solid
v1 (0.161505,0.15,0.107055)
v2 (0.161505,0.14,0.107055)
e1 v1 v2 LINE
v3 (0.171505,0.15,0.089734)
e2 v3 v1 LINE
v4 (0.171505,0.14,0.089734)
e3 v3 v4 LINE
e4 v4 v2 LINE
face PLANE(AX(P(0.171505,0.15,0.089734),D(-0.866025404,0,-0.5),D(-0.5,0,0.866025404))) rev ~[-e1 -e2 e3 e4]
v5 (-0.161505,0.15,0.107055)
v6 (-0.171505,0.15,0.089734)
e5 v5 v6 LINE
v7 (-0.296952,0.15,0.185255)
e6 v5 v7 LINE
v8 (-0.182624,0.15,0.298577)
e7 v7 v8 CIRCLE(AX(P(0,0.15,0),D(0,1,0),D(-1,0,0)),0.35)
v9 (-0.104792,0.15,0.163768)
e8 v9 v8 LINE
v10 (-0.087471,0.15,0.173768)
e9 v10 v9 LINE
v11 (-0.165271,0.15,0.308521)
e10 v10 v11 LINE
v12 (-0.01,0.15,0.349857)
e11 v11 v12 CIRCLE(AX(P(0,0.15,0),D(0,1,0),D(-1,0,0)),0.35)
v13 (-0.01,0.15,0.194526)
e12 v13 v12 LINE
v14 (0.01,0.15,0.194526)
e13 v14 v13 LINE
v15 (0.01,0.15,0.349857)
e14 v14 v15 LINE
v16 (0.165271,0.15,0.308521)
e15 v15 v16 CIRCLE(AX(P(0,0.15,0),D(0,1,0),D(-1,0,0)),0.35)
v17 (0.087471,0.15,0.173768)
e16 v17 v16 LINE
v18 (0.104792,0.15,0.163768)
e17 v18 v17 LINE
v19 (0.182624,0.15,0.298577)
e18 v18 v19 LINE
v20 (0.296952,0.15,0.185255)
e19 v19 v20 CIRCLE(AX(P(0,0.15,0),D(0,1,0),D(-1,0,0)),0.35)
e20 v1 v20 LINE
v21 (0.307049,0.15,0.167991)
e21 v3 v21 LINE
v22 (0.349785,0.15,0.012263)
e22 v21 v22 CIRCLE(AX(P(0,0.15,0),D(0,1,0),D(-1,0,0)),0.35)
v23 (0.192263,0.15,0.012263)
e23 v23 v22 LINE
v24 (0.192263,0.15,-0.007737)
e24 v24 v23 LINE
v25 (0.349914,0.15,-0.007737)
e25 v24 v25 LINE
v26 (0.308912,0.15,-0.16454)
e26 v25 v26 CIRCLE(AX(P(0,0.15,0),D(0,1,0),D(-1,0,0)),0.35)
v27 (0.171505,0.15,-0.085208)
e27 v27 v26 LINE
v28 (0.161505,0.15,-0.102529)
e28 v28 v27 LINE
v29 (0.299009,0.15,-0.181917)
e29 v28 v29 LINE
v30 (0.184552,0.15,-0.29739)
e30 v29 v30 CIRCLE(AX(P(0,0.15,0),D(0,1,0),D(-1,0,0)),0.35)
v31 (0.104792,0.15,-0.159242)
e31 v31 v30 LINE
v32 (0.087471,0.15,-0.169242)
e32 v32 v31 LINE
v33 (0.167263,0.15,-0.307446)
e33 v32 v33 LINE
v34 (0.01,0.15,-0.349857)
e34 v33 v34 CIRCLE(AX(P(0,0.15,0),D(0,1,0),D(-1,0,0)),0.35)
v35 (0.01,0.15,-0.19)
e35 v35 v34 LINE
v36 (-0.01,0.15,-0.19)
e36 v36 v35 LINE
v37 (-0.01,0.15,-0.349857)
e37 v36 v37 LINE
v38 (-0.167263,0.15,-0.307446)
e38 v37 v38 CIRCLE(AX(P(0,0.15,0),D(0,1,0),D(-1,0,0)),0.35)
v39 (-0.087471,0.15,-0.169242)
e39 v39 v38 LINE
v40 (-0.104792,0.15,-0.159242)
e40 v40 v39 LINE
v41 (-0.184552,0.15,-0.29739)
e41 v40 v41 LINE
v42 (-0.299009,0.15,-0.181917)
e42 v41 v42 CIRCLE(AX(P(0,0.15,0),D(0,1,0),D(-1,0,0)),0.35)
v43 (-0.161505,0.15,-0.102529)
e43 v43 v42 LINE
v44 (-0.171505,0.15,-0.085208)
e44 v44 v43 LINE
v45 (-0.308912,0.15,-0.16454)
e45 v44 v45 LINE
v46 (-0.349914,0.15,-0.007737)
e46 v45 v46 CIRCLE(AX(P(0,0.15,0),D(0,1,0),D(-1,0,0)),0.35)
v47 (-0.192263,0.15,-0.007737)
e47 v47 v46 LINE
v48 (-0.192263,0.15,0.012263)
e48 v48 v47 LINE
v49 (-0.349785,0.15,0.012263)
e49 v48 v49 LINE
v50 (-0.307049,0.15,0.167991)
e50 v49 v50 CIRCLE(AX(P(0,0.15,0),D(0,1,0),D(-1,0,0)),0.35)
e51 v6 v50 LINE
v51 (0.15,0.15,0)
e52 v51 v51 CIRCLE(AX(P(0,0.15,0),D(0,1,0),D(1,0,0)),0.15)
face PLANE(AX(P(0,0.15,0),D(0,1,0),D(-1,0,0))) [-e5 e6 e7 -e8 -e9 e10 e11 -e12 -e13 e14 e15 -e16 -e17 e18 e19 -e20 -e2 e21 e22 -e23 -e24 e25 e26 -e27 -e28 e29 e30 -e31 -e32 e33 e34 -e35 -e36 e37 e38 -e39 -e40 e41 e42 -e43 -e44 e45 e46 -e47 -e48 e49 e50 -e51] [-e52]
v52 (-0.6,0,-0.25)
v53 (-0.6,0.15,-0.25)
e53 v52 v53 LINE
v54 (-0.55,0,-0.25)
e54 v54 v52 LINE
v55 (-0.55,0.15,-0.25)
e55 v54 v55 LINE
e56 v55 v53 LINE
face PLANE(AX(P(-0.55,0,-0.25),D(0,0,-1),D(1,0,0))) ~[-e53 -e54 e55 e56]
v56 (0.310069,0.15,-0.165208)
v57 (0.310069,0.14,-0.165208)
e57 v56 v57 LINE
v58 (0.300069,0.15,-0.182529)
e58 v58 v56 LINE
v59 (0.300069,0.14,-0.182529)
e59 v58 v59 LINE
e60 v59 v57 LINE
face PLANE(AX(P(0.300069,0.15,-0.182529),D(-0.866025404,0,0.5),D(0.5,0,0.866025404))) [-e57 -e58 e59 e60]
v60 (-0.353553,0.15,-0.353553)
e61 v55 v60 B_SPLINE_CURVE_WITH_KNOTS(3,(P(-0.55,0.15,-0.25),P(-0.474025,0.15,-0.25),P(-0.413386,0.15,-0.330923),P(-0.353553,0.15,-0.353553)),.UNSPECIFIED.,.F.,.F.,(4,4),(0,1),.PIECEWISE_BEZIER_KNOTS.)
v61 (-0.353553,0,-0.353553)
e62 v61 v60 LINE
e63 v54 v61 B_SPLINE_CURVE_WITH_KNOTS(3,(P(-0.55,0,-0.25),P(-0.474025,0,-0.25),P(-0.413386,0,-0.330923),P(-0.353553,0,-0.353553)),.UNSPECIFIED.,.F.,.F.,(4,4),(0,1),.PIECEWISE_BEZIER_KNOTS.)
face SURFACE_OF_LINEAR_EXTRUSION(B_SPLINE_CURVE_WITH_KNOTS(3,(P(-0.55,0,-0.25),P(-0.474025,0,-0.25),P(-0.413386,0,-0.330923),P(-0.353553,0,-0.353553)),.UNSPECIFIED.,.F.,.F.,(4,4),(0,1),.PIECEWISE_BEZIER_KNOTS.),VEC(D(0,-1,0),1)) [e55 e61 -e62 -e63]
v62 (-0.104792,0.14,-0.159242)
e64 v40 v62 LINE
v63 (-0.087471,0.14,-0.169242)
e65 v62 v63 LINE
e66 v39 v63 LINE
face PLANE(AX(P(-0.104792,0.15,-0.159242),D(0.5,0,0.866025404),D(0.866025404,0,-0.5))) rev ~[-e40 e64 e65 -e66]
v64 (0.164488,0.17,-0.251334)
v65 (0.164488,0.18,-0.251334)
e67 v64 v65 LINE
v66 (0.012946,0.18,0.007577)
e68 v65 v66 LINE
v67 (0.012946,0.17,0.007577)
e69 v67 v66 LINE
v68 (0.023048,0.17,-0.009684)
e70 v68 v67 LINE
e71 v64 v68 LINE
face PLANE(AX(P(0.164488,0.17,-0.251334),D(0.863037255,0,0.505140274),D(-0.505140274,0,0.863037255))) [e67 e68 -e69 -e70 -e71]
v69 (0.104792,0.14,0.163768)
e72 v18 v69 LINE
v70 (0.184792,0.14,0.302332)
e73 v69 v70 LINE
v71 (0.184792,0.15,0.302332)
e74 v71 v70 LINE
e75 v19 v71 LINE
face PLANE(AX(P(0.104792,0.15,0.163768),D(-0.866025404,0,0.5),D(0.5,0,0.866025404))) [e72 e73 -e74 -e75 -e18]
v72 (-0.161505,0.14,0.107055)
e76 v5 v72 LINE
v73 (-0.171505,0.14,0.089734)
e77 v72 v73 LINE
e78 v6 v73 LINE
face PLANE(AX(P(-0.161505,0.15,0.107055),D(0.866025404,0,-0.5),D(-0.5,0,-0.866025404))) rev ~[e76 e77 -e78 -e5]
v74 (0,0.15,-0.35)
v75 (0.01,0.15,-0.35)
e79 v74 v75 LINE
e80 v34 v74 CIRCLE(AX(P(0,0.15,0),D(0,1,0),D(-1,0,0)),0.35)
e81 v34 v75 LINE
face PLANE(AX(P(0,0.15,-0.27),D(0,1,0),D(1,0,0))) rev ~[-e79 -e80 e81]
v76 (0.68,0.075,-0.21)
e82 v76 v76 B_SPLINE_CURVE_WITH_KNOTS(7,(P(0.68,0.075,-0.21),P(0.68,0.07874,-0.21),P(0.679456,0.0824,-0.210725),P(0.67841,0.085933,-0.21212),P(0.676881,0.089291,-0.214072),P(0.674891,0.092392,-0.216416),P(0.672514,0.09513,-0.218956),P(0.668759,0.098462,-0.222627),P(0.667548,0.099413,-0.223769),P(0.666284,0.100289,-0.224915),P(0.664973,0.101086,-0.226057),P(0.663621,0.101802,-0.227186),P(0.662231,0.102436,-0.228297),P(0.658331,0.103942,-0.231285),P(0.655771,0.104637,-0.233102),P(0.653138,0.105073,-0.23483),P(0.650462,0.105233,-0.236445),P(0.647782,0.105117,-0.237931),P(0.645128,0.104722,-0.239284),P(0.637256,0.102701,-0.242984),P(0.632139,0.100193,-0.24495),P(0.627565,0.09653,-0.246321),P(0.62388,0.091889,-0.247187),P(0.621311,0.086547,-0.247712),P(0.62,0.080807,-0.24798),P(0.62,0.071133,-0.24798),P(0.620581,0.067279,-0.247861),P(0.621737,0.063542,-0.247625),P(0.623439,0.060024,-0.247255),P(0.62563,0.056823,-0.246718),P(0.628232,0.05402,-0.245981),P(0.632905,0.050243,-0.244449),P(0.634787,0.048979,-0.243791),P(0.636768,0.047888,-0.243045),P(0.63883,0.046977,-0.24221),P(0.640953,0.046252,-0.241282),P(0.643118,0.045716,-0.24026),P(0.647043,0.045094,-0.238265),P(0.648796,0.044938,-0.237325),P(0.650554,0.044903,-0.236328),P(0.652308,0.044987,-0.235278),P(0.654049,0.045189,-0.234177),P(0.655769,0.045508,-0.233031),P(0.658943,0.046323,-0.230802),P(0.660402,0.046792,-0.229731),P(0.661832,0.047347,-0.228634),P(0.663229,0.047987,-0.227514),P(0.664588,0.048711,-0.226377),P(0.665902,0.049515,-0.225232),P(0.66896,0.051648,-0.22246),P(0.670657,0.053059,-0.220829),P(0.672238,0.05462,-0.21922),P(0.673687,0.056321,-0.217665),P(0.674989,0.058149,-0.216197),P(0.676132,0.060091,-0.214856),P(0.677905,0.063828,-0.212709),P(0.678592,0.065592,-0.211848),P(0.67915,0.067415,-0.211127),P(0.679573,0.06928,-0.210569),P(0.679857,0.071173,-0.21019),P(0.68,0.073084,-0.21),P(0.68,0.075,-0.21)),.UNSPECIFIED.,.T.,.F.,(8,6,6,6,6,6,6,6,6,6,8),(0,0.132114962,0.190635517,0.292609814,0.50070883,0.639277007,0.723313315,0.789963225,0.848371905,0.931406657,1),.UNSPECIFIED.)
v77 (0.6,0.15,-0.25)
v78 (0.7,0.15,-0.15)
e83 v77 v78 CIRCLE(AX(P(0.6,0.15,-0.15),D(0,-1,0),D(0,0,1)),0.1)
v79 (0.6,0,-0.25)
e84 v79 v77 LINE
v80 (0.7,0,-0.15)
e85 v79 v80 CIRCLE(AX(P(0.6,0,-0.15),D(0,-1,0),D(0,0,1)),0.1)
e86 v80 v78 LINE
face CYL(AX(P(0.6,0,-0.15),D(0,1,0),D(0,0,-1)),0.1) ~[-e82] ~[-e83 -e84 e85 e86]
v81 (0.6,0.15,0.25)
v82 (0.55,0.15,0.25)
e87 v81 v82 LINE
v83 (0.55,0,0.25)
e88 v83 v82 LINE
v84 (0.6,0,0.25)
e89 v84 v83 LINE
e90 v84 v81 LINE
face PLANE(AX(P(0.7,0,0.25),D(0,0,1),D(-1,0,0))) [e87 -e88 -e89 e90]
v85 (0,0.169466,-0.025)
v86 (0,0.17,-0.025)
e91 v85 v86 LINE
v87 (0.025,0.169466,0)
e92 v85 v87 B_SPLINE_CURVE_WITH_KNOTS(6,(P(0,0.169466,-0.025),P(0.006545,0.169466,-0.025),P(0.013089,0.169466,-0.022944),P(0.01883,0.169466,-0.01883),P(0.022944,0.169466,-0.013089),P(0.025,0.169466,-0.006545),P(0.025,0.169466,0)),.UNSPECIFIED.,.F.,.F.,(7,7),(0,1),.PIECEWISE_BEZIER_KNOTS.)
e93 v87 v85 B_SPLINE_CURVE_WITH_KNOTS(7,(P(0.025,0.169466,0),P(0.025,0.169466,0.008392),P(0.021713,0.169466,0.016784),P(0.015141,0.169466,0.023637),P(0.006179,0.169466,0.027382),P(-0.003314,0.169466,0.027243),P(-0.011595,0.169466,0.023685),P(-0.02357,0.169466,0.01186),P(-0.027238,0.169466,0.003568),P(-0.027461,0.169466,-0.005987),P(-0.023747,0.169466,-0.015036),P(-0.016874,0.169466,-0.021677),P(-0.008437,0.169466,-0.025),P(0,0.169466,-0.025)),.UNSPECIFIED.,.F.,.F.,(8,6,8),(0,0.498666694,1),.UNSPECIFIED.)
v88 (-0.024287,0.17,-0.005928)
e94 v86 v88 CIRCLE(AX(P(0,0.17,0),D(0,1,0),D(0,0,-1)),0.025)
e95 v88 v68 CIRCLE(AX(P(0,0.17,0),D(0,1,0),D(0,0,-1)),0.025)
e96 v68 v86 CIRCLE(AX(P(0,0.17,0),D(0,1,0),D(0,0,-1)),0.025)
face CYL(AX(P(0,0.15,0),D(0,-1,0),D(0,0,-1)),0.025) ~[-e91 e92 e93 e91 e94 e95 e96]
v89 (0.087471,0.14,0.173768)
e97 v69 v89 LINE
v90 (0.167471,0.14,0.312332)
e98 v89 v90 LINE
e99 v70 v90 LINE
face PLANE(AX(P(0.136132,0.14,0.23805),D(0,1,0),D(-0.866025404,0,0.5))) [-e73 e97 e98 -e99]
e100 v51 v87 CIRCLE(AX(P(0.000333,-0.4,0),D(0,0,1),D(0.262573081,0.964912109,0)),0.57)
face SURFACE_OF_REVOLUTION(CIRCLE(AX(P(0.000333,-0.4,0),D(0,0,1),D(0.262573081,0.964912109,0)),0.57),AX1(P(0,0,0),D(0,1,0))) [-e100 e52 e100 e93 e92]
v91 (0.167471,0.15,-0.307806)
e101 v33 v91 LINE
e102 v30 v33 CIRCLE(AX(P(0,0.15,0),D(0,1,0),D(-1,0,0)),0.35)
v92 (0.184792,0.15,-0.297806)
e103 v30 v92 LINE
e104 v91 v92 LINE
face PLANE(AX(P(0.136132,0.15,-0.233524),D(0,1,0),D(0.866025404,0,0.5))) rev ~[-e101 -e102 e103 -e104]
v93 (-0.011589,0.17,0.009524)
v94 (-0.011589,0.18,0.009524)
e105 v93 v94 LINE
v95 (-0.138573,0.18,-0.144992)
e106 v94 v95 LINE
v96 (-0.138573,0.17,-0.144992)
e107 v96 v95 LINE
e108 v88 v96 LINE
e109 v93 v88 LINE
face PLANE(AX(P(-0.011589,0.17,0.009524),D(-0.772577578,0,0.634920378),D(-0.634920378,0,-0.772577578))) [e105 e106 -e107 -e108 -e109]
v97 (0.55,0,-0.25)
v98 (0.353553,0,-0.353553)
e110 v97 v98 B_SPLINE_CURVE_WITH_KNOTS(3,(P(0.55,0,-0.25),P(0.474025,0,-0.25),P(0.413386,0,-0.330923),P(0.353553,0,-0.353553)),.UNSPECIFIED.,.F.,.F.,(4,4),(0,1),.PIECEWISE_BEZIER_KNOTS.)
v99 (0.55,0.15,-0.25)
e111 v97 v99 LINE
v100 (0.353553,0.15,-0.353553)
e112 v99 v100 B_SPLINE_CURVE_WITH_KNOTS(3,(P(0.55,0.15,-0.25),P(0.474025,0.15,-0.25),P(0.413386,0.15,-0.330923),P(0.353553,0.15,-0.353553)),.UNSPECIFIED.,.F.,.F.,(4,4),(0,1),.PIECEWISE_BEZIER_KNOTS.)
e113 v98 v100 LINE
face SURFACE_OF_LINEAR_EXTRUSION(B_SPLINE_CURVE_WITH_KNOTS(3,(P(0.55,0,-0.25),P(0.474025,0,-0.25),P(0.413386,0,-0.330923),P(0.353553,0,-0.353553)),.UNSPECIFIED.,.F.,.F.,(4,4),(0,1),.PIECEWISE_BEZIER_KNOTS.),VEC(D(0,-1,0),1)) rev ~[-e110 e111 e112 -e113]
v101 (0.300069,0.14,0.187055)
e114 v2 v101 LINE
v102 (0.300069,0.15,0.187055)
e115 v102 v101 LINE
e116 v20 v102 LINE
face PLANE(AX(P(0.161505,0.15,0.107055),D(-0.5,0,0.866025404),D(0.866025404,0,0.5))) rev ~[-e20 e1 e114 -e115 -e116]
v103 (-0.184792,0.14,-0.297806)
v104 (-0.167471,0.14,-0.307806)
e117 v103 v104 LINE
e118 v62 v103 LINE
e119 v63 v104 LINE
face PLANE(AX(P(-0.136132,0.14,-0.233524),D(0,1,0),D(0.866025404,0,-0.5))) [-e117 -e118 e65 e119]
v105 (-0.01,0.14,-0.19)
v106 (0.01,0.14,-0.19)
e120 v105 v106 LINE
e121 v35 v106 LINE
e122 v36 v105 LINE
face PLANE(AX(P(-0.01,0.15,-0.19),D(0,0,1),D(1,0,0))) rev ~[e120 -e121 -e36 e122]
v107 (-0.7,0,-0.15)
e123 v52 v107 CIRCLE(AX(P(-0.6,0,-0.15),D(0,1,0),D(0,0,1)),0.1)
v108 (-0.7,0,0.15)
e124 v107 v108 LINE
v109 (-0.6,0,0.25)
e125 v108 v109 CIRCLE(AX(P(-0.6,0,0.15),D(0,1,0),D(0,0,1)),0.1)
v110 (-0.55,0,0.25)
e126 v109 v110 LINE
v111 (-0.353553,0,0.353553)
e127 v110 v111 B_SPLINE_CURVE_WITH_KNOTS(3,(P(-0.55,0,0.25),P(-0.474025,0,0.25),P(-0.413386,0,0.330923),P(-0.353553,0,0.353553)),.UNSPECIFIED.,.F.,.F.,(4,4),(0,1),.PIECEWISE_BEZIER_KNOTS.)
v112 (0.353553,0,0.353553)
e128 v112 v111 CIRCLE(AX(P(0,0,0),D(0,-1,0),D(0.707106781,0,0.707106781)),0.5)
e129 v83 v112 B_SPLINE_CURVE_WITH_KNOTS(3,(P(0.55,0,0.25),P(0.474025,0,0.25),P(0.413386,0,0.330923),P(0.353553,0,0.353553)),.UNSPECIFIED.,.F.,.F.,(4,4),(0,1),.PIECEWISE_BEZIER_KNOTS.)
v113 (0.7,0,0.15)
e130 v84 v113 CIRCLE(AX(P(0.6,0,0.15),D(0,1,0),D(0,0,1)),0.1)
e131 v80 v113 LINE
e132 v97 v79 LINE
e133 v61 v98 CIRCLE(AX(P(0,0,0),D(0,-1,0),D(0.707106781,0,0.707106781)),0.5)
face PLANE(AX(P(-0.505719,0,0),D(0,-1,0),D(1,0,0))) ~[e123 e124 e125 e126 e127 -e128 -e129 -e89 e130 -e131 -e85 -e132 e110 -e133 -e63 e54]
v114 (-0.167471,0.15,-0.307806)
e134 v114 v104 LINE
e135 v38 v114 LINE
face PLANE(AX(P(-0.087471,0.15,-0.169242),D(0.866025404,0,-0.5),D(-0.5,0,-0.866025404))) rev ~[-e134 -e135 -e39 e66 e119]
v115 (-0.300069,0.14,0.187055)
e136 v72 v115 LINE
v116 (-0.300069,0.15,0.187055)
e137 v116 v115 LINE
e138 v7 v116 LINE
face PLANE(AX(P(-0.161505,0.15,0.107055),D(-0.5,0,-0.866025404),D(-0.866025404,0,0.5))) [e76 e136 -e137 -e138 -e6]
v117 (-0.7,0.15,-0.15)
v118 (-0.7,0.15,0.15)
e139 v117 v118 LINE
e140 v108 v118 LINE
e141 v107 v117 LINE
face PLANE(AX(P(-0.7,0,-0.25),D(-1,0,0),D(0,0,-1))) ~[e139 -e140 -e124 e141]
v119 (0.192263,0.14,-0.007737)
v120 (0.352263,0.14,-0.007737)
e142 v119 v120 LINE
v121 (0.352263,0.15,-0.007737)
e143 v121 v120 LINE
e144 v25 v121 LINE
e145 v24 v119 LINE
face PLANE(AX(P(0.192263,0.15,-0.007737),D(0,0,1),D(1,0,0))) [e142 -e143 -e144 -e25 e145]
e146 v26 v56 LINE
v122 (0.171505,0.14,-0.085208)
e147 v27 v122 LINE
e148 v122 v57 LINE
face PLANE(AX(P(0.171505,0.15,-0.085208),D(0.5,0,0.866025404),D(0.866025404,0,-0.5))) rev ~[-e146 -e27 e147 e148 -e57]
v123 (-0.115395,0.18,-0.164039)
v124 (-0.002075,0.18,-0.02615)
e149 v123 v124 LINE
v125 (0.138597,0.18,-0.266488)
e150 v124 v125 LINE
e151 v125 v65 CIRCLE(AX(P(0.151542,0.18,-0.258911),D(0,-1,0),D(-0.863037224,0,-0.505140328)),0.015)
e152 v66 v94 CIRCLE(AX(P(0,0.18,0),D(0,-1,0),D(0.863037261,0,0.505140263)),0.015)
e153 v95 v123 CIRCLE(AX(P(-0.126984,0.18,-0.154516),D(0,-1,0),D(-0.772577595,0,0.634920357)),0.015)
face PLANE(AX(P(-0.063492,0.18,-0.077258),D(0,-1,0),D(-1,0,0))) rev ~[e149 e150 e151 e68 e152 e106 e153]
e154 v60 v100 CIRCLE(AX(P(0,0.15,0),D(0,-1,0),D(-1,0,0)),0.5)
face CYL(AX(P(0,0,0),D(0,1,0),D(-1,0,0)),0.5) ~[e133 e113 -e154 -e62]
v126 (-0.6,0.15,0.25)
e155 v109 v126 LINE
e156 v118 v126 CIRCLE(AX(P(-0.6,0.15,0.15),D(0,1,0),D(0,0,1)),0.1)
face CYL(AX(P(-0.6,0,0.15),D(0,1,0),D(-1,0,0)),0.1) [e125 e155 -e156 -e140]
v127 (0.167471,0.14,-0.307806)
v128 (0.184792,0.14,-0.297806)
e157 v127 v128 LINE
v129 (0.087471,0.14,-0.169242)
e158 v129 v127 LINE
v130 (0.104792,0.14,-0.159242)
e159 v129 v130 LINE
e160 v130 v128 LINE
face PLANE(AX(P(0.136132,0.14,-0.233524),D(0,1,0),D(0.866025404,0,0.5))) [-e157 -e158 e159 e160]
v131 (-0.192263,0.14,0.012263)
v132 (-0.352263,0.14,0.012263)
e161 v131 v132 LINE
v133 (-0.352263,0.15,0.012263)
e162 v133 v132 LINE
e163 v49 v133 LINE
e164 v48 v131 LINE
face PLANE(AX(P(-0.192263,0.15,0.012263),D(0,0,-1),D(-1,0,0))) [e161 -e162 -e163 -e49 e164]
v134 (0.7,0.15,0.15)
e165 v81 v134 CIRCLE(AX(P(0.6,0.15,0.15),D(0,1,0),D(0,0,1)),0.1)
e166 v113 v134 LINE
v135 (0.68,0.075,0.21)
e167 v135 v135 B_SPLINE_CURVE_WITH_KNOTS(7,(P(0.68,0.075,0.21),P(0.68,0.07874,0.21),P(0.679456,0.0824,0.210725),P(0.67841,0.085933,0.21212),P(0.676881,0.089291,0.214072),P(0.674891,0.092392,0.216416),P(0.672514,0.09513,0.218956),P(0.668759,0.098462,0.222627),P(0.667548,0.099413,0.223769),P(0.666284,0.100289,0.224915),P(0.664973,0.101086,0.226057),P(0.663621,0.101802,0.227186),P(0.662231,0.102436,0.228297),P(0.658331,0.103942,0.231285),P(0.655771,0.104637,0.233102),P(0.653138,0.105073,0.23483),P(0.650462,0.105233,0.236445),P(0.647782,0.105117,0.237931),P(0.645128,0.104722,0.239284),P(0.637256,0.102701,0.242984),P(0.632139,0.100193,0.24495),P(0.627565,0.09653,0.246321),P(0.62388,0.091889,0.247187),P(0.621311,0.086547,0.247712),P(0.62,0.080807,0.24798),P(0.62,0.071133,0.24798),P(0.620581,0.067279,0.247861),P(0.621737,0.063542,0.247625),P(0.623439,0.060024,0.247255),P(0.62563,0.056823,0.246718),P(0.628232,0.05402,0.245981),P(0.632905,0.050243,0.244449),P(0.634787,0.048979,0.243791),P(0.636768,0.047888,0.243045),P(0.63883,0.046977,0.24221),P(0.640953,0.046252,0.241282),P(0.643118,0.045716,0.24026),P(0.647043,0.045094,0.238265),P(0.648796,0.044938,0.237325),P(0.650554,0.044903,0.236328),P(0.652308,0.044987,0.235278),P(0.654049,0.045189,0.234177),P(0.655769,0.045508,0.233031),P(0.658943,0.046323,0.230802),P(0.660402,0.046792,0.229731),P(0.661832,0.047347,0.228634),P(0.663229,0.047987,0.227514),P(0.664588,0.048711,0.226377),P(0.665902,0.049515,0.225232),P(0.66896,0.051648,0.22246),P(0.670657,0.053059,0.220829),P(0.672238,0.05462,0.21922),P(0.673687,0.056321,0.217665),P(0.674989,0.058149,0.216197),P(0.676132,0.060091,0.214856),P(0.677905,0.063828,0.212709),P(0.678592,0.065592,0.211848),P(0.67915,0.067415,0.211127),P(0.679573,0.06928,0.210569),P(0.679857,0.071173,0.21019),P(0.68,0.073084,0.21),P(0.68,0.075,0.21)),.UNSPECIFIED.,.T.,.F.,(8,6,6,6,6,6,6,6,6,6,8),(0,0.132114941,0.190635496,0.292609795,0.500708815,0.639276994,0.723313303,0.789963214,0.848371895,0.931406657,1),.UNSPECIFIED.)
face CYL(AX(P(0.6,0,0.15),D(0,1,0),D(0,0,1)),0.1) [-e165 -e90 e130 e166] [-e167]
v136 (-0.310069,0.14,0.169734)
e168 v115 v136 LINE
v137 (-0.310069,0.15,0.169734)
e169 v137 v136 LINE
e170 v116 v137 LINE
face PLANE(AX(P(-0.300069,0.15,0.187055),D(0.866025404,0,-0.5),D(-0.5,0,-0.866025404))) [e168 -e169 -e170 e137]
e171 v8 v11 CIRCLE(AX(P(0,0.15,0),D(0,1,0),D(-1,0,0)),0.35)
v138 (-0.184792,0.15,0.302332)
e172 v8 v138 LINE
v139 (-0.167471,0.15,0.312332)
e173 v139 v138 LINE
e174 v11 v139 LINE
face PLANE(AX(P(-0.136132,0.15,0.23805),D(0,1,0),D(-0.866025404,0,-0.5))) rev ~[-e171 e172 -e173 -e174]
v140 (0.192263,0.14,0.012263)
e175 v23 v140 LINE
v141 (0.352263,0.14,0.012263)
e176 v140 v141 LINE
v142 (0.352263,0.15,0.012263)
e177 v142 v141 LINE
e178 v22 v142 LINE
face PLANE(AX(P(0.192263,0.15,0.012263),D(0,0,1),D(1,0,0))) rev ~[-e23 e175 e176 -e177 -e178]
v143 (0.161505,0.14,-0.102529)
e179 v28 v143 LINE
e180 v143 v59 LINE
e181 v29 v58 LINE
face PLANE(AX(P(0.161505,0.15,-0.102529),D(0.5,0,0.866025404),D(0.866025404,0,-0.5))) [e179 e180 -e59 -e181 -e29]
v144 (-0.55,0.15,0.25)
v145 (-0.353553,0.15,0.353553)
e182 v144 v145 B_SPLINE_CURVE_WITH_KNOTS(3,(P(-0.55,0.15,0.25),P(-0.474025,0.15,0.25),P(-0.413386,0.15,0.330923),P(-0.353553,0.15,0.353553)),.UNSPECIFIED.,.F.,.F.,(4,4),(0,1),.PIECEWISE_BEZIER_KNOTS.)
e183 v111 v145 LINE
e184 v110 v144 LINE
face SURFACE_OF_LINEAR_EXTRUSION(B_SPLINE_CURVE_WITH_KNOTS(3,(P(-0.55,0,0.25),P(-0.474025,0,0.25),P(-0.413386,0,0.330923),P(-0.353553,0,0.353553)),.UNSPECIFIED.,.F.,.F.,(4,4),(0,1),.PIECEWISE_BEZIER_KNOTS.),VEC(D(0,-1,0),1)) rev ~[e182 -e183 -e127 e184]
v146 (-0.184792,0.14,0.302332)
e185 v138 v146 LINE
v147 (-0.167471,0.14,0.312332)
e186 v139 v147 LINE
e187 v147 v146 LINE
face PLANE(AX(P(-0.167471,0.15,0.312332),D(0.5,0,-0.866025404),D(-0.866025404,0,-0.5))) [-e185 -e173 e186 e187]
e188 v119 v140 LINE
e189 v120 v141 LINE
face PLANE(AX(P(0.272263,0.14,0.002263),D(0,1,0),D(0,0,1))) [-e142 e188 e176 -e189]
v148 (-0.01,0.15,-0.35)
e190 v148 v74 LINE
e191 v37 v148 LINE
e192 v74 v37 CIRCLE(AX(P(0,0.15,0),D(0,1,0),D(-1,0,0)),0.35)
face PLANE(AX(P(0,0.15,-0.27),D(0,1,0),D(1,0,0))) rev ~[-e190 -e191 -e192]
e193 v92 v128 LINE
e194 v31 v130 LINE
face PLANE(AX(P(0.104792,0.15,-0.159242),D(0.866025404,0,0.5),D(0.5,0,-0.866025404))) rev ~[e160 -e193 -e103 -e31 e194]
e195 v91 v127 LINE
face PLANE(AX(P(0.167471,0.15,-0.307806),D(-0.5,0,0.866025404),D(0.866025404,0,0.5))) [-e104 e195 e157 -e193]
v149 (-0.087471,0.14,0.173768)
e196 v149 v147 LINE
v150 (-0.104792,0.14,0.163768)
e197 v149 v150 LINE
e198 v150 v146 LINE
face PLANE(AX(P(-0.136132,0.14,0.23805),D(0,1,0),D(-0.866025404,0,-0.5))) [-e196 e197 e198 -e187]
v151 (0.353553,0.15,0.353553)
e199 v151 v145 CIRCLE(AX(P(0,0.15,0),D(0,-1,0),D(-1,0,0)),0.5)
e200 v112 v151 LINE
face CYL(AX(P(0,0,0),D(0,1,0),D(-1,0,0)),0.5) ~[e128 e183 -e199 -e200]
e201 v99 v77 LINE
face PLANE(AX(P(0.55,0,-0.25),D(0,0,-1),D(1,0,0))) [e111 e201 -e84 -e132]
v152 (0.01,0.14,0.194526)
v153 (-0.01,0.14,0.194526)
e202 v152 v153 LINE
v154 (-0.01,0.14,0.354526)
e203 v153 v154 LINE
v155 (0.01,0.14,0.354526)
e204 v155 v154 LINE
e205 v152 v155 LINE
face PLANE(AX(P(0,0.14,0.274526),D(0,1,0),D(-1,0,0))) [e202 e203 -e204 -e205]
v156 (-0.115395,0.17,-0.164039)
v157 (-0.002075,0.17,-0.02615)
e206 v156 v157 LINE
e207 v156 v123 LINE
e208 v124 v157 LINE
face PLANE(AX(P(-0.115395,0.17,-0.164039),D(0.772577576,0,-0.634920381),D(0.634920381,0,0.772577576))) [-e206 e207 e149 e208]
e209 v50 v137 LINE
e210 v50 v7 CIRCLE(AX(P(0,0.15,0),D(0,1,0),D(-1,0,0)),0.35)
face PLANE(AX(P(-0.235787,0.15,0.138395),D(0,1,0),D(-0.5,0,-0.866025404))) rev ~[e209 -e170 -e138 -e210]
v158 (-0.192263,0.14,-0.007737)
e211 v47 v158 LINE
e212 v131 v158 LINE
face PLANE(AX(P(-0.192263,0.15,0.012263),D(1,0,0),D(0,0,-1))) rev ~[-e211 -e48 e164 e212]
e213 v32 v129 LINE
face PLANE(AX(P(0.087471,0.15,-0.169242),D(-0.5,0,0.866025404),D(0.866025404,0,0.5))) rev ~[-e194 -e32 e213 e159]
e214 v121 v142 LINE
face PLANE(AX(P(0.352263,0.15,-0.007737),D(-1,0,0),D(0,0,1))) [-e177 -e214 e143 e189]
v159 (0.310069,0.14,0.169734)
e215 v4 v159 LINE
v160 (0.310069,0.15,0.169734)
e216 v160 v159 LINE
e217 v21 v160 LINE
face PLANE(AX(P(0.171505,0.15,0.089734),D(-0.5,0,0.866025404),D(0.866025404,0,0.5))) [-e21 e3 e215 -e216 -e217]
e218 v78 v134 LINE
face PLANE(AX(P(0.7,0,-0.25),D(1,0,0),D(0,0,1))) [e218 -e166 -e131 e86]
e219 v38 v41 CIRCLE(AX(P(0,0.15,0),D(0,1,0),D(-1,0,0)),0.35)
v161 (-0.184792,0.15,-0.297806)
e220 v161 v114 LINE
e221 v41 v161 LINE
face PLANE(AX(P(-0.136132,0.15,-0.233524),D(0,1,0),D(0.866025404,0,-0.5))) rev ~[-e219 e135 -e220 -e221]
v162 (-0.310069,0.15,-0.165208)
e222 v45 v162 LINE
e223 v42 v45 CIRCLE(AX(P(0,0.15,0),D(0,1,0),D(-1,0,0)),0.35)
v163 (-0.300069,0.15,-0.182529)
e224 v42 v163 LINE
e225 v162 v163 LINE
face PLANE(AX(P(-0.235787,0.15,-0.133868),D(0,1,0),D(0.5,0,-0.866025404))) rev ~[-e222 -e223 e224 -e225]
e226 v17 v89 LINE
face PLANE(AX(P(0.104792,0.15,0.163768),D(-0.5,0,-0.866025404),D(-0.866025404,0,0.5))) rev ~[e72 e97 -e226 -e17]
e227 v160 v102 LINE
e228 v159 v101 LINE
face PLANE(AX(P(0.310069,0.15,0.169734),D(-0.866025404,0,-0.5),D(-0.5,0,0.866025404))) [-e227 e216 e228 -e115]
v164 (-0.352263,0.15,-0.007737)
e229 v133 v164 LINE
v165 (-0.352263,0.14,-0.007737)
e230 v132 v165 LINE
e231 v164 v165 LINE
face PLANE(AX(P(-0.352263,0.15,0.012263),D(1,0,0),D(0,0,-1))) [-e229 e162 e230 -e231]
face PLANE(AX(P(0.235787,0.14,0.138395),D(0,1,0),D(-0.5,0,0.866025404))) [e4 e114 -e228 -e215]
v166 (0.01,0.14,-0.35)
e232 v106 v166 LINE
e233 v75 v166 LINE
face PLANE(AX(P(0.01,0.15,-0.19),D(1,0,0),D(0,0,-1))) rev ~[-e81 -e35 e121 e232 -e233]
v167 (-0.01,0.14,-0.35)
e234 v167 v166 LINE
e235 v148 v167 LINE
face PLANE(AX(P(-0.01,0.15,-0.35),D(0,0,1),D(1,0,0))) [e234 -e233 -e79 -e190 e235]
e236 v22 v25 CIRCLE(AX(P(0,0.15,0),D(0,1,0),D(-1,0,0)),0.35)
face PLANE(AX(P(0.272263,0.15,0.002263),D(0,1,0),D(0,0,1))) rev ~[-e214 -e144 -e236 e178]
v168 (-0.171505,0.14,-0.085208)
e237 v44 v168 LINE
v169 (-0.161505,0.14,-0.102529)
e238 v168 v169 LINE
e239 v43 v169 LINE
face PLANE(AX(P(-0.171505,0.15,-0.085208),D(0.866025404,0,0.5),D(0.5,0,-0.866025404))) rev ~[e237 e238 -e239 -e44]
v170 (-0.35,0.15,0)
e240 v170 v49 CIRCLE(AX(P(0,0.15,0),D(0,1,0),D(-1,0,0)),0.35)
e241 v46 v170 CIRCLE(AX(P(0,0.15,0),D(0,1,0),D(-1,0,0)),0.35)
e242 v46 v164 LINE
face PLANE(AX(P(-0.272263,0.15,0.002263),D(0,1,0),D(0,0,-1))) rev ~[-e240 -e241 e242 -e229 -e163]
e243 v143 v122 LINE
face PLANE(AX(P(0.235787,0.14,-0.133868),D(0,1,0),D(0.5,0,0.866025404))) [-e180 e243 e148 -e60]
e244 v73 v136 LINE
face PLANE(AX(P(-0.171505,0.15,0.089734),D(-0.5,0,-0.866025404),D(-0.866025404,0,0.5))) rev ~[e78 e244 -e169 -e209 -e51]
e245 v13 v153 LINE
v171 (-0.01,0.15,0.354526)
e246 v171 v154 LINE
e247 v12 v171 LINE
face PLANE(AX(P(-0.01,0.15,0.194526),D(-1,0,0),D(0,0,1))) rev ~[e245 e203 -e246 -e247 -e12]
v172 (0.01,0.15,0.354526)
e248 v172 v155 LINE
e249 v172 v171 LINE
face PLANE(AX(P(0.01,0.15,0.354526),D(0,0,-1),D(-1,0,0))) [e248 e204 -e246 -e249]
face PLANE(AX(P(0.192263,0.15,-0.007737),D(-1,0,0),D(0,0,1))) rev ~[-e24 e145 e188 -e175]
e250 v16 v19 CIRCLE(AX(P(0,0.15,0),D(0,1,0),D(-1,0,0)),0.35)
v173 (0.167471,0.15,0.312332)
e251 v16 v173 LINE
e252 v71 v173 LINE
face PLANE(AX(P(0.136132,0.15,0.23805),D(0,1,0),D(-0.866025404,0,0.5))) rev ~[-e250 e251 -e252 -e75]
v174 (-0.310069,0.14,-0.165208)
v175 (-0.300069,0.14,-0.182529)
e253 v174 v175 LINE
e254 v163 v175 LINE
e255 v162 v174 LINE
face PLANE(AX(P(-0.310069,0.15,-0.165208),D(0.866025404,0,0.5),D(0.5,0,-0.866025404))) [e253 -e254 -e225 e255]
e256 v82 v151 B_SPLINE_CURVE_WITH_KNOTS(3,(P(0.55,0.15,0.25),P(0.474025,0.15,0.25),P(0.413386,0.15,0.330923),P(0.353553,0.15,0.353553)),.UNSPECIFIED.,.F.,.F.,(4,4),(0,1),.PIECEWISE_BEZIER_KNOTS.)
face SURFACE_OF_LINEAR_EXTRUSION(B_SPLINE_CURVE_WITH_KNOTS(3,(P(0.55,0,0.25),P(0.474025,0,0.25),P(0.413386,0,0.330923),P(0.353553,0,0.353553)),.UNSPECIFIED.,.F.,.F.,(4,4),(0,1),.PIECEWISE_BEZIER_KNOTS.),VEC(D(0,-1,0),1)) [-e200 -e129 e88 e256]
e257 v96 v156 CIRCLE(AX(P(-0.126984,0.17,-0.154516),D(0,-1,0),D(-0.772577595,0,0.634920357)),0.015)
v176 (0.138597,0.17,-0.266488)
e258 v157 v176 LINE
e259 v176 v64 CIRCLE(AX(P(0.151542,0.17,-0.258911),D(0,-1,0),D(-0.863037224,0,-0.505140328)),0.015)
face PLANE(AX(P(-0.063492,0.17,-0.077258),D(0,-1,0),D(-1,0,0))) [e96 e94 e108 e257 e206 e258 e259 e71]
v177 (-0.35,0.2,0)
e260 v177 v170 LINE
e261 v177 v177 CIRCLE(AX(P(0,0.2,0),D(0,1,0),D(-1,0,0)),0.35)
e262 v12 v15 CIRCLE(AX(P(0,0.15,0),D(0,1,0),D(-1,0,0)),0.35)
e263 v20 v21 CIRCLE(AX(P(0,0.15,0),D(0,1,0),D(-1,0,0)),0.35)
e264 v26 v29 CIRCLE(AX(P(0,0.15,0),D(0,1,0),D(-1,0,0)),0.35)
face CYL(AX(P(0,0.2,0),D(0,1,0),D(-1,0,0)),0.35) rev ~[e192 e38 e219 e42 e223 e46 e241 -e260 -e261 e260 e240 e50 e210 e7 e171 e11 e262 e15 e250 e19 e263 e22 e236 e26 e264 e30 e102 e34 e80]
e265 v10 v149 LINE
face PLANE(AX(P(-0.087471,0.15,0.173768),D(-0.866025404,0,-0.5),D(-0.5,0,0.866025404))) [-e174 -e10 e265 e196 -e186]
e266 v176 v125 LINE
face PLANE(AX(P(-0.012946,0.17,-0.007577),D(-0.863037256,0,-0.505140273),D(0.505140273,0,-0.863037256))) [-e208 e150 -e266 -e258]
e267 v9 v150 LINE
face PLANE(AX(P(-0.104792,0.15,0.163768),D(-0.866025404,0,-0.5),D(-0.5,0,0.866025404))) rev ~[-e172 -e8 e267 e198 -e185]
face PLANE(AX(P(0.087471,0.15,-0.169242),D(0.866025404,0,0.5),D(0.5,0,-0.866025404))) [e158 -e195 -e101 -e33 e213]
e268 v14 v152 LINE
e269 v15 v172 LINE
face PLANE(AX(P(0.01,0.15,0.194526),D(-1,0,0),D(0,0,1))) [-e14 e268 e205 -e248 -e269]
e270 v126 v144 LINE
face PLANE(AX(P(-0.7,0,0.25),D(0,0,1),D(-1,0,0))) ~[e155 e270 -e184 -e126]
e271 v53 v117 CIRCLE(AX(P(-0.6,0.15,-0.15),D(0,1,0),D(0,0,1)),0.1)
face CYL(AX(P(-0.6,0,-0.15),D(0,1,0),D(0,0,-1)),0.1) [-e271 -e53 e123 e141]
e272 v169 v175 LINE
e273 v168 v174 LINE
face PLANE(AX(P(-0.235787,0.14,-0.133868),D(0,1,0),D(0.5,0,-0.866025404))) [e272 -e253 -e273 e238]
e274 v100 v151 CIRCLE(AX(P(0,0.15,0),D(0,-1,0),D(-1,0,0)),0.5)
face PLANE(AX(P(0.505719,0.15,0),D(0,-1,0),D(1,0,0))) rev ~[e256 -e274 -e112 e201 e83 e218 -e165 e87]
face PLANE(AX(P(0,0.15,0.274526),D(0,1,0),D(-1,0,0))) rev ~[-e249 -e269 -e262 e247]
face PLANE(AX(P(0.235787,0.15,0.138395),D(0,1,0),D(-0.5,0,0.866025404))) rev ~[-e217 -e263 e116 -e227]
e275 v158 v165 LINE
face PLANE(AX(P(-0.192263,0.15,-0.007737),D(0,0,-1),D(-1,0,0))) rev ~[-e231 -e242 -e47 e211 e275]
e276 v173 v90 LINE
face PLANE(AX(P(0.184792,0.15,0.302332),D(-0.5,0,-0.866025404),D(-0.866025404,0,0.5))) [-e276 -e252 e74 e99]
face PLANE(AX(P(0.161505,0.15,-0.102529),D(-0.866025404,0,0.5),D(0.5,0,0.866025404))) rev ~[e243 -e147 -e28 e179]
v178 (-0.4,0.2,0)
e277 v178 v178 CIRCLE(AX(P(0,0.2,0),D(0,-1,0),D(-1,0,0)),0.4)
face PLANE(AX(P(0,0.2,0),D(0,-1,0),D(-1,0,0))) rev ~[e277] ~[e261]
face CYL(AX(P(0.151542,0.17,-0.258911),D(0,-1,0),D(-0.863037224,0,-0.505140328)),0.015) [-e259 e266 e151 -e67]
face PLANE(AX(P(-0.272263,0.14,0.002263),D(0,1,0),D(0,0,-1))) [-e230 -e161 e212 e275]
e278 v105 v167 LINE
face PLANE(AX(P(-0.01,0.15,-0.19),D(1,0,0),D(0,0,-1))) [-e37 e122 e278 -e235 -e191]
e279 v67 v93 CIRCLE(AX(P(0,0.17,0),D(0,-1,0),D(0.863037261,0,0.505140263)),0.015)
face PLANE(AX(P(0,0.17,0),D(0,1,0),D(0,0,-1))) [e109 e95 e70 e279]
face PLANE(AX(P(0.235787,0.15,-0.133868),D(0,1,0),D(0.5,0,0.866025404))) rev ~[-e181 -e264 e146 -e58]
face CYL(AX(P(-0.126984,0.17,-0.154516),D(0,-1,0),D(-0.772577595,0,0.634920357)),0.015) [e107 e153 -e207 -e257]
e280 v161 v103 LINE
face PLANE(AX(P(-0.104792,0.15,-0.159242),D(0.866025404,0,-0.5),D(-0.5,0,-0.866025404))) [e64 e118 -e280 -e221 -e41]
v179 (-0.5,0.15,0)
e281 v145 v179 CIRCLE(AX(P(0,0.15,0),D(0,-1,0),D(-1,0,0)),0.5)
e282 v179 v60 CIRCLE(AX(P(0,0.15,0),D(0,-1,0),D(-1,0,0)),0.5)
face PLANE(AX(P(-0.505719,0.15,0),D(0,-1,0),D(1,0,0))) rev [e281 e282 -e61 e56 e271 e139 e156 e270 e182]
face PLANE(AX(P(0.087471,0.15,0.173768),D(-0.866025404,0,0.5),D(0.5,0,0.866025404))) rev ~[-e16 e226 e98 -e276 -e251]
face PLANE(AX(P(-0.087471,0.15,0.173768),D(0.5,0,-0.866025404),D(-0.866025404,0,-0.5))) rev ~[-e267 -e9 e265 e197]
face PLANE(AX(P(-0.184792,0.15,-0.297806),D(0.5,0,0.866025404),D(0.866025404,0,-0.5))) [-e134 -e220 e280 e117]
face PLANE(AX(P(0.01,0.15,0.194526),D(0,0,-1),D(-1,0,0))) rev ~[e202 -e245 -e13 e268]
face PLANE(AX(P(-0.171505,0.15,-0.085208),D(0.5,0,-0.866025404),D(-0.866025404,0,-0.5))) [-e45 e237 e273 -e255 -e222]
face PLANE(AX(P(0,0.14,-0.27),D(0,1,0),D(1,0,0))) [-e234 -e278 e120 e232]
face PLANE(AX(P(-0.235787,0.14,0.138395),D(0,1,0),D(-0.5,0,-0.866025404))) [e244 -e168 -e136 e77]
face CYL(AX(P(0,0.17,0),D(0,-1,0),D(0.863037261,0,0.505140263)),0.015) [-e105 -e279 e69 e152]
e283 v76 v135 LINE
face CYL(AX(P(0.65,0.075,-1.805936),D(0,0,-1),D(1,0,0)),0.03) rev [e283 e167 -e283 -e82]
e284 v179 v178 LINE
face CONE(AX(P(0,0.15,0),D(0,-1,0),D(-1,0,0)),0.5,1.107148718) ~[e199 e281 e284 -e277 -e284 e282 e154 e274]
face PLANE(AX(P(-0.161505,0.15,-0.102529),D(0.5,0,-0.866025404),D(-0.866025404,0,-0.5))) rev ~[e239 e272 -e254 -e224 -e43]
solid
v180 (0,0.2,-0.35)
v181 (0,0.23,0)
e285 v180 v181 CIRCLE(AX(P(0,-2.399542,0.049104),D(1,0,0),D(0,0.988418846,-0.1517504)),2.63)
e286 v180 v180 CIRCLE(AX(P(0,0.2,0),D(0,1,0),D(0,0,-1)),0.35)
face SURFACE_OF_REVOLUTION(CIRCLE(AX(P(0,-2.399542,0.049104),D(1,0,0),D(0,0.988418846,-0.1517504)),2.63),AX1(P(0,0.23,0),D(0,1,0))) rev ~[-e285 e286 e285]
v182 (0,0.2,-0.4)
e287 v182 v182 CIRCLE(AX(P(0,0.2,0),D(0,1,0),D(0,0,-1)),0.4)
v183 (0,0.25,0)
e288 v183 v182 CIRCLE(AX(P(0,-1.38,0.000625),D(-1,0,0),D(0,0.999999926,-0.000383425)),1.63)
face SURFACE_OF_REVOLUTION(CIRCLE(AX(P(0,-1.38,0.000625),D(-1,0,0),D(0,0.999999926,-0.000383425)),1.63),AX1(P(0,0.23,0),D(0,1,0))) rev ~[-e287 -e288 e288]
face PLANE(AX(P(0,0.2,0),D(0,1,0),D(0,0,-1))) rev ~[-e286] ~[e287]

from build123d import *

# Parameters (mm, degrees)
SKETCH2_R               = 0.35
CUT_EXTRUDE2_DEPTH      = 0.05
SKETCH3_W               = 0.02
SKETCH3_H               = 0.16
CUT_EXTRUDE3_DEPTH      = 0.01
CIRPATTERN1_COUNT       = 12
SKETCH6_R               = 0.025
BOSS_EXTRUDE2_DEPTH     = 0.02
BOSS_EXTRUDE3_DEPTH     = 0.01
BOSS_EXTRUDE4_DEPTH     = 0.01
BOSS_EXTRUDE5_DEPTH     = 0.15
FILLET2_R               = 0.1
FILLET2_OF_MIRROR1_R    = 0.1
CUT_EXTRUDE4_DEPTH      = 2.055935765
CUT_EXTRUDE4_DEPTH_BACK = 2.055935765
SKETCH11_R              = 0.03


with BuildPart() as part:
    # Sketch1 → Revolve1 (revolve)
    with BuildSketch(Plane.XY, mode=Mode.PRIVATE) as revolve1_sk:
        Polygon((0, 0), (0.5, 0), (0.5, 0.15), (0.4, 0.2), (0, 0.2), align=None)
    revolve(revolve1_sk.sketch.rotate(Axis((0, 0.2, 0), (0, -1, 0)), 180), axis=Axis((0, 0.2, 0), (0, -1, 0)))

    # Sketch2 → Cut-Extrude2 (cut)
    with BuildSketch(Plane(origin=(0, 0.2, 0), x_dir=(1, 0, 0), z_dir=(0, 1, 0))):
        with Locations(Location((0, 0, 0), (0, 0, 180))):
            Circle(SKETCH2_R)
    extrude(amount=-CUT_EXTRUDE2_DEPTH, mode=Mode.SUBTRACT)

    # Sketch3 → Cut-Extrude3 (cut)
    with BuildSketch(Plane(origin=(0, 0.15, 0), x_dir=(1, 0, 0), z_dir=(0, 1, 0))):
        with Locations((0, 0.27)):
            Rectangle(SKETCH3_W, SKETCH3_H)
    cut_extrude3 = extrude(amount=-CUT_EXTRUDE3_DEPTH, mode=Mode.SUBTRACT)

    # CirPattern1: Cut-Extrude3 ×12 about axis
    cirpattern1_axis = Axis((0, 0, 0.002263004), (0, 1, 0))
    for i in range(1, CIRPATTERN1_COUNT):
        add(cut_extrude3.rotate(cirpattern1_axis, i * 360 / CIRPATTERN1_COUNT), mode=Mode.SUBTRACT)

    # Sketch4 → Revolve2 (revolve)
    with BuildSketch(Plane.XY):
        with BuildLine():
            Line((0, 0.15), (0.15, 0.15))
            ThreePointArc((0.15, 0.15), (0.075666667, 0.165000001), (0, 0.17))
            Line((0, 0.17), (0, 0.15))
        make_face()
    revolve(axis=Axis((0, 0, 0), (0, 1, 0)))

    # Sketch6 → Boss-Extrude2 (add)
    with BuildSketch(Plane(origin=(0, 0.15, 0), x_dir=(1, 0, 0), z_dir=(0, 1, 0))):
        with Locations(Location((0, 0, 0), (0, 0, 90))):
            Circle(SKETCH6_R)
    extrude(amount=BOSS_EXTRUDE2_DEPTH)

    # Sketch7 → Boss-Extrude3 (add)
    with BuildSketch(Plane(origin=(0, 0.17, 0), x_dir=(1, 0, 0), z_dir=(0, 1, 0))):
        with BuildLine():
            Line((-0.012945559, 0.007577104), (0.138596523, 0.266488281))
            ThreePointArc((0.138596523, 0.266488281), (0.159119186, 0.271856735), (0.164487641, 0.251334072))
            Line((0.164487641, 0.251334072), (0.012945559, -0.007577104))
            ThreePointArc((0.012945559, -0.007577104), (-0.007577104, -0.012945559), (-0.012945559, 0.007577104))
        make_face()
    extrude(amount=BOSS_EXTRUDE3_DEPTH)

    # Sketch9 → Boss-Extrude4 (add)
    with BuildSketch(Plane(origin=(0, 0.17, 0), x_dir=(1, 0, 0), z_dir=(0, 1, 0))):
        with BuildLine():
            Line((-0.011588664, -0.009523806), (-0.13857274, 0.14499171))
            ThreePointArc((-0.13857274, 0.14499171), (-0.136507882, 0.166104179), (-0.115395412, 0.164039321))
            Line((-0.115395412, 0.164039321), (0.011588664, 0.009523806))
            ThreePointArc((0.011588664, 0.009523806), (0.009523806, -0.011588664), (-0.011588664, -0.009523806))
        make_face()
    extrude(amount=BOSS_EXTRUDE4_DEPTH)

    # Sketch10 → Boss-Extrude5 (add)
    with BuildSketch(Plane.XZ):
        with BuildLine():
            Line((0.55, -0.25), (0.7, -0.25))
            Line((0.7, -0.25), (0.7, 0.25))
            Line((0.7, 0.25), (0.55, 0.25))
            add(Edge.make_bspline(
                [(0.55, 0.25), (0.474025332, 0.25), (0.413386231, 0.330923034), (0.353553391, 0.353553391)],
                knots=[0, 0, 0, 0, 1, 1, 1, 1], degree=3))
            Line((0.353553391, 0.353553391), (0.353553391, -0.353553391))
            add(Edge.make_bspline(
                [(0.55, -0.25), (0.474025332, -0.25), (0.413386231, -0.330923034), (0.353553391, -0.353553391)],
                knots=[0, 0, 0, 0, 1, 1, 1, 1], degree=3))
        make_face()
    boss_extrude5 = extrude(amount=-BOSS_EXTRUDE5_DEPTH)

    # Fillet2
    fillet2_edges = [part.edges().sort_by_distance(p)[0] for p in [
        (0.7, 0.075, -0.25),
        (0.7, 0.075, 0.25),
    ]]
    fillet(fillet2_edges, radius=FILLET2_R)

    # Mirror1: Boss-Extrude5 across plane
    add(boss_extrude5.mirror(Plane(origin=(0, 0, 0), x_dir=(0, 0, 1), z_dir=(1, 0, 0))))

    # Fillet2 of Mirror1
    fillet2_of_mirror1_edges = [part.edges().sort_by_distance(p)[0] for p in [
        (-0.7, 0.075, -0.25),
        (-0.7, 0.075, 0.25),
    ]]
    fillet(fillet2_of_mirror1_edges, radius=FILLET2_OF_MIRROR1_R)

    # Sketch11 → Cut-Extrude4 (cut, two sides: drawn at the far end of the back side and taken through both)
    with BuildSketch(Plane.XY.offset(0.25).offset(-CUT_EXTRUDE4_DEPTH_BACK)):
        with Locations((0.65, 0.075)):
            Circle(SKETCH11_R)
    extrude(amount=CUT_EXTRUDE4_DEPTH + CUT_EXTRUDE4_DEPTH_BACK, mode=Mode.SUBTRACT)


with BuildPart() as body_2:
    # Sketch8 → Revolve3 (revolve)
    with BuildSketch(Plane.XY, mode=Mode.PRIVATE) as revolve3_sk:
        with BuildLine():
            Line((0, 0.23), (0, 0.25))
            ThreePointArc((0, 0.25), (-0.201551632, 0.237413059), (-0.4, 0.2))
            Line((-0.4, 0.2), (-0.35, 0.2))
            ThreePointArc((-0.35, 0.2), (-0.175501439, 0.220850122), (0, 0.23))
        make_face()
    revolve(revolve3_sk.sketch.rotate(Axis((0, 0.23, 0), (0, 1, 0)), 270), axis=Axis((0, 0.23, 0), (0, 1, 0)))


solid = Compound([part.part, body_2.part])
